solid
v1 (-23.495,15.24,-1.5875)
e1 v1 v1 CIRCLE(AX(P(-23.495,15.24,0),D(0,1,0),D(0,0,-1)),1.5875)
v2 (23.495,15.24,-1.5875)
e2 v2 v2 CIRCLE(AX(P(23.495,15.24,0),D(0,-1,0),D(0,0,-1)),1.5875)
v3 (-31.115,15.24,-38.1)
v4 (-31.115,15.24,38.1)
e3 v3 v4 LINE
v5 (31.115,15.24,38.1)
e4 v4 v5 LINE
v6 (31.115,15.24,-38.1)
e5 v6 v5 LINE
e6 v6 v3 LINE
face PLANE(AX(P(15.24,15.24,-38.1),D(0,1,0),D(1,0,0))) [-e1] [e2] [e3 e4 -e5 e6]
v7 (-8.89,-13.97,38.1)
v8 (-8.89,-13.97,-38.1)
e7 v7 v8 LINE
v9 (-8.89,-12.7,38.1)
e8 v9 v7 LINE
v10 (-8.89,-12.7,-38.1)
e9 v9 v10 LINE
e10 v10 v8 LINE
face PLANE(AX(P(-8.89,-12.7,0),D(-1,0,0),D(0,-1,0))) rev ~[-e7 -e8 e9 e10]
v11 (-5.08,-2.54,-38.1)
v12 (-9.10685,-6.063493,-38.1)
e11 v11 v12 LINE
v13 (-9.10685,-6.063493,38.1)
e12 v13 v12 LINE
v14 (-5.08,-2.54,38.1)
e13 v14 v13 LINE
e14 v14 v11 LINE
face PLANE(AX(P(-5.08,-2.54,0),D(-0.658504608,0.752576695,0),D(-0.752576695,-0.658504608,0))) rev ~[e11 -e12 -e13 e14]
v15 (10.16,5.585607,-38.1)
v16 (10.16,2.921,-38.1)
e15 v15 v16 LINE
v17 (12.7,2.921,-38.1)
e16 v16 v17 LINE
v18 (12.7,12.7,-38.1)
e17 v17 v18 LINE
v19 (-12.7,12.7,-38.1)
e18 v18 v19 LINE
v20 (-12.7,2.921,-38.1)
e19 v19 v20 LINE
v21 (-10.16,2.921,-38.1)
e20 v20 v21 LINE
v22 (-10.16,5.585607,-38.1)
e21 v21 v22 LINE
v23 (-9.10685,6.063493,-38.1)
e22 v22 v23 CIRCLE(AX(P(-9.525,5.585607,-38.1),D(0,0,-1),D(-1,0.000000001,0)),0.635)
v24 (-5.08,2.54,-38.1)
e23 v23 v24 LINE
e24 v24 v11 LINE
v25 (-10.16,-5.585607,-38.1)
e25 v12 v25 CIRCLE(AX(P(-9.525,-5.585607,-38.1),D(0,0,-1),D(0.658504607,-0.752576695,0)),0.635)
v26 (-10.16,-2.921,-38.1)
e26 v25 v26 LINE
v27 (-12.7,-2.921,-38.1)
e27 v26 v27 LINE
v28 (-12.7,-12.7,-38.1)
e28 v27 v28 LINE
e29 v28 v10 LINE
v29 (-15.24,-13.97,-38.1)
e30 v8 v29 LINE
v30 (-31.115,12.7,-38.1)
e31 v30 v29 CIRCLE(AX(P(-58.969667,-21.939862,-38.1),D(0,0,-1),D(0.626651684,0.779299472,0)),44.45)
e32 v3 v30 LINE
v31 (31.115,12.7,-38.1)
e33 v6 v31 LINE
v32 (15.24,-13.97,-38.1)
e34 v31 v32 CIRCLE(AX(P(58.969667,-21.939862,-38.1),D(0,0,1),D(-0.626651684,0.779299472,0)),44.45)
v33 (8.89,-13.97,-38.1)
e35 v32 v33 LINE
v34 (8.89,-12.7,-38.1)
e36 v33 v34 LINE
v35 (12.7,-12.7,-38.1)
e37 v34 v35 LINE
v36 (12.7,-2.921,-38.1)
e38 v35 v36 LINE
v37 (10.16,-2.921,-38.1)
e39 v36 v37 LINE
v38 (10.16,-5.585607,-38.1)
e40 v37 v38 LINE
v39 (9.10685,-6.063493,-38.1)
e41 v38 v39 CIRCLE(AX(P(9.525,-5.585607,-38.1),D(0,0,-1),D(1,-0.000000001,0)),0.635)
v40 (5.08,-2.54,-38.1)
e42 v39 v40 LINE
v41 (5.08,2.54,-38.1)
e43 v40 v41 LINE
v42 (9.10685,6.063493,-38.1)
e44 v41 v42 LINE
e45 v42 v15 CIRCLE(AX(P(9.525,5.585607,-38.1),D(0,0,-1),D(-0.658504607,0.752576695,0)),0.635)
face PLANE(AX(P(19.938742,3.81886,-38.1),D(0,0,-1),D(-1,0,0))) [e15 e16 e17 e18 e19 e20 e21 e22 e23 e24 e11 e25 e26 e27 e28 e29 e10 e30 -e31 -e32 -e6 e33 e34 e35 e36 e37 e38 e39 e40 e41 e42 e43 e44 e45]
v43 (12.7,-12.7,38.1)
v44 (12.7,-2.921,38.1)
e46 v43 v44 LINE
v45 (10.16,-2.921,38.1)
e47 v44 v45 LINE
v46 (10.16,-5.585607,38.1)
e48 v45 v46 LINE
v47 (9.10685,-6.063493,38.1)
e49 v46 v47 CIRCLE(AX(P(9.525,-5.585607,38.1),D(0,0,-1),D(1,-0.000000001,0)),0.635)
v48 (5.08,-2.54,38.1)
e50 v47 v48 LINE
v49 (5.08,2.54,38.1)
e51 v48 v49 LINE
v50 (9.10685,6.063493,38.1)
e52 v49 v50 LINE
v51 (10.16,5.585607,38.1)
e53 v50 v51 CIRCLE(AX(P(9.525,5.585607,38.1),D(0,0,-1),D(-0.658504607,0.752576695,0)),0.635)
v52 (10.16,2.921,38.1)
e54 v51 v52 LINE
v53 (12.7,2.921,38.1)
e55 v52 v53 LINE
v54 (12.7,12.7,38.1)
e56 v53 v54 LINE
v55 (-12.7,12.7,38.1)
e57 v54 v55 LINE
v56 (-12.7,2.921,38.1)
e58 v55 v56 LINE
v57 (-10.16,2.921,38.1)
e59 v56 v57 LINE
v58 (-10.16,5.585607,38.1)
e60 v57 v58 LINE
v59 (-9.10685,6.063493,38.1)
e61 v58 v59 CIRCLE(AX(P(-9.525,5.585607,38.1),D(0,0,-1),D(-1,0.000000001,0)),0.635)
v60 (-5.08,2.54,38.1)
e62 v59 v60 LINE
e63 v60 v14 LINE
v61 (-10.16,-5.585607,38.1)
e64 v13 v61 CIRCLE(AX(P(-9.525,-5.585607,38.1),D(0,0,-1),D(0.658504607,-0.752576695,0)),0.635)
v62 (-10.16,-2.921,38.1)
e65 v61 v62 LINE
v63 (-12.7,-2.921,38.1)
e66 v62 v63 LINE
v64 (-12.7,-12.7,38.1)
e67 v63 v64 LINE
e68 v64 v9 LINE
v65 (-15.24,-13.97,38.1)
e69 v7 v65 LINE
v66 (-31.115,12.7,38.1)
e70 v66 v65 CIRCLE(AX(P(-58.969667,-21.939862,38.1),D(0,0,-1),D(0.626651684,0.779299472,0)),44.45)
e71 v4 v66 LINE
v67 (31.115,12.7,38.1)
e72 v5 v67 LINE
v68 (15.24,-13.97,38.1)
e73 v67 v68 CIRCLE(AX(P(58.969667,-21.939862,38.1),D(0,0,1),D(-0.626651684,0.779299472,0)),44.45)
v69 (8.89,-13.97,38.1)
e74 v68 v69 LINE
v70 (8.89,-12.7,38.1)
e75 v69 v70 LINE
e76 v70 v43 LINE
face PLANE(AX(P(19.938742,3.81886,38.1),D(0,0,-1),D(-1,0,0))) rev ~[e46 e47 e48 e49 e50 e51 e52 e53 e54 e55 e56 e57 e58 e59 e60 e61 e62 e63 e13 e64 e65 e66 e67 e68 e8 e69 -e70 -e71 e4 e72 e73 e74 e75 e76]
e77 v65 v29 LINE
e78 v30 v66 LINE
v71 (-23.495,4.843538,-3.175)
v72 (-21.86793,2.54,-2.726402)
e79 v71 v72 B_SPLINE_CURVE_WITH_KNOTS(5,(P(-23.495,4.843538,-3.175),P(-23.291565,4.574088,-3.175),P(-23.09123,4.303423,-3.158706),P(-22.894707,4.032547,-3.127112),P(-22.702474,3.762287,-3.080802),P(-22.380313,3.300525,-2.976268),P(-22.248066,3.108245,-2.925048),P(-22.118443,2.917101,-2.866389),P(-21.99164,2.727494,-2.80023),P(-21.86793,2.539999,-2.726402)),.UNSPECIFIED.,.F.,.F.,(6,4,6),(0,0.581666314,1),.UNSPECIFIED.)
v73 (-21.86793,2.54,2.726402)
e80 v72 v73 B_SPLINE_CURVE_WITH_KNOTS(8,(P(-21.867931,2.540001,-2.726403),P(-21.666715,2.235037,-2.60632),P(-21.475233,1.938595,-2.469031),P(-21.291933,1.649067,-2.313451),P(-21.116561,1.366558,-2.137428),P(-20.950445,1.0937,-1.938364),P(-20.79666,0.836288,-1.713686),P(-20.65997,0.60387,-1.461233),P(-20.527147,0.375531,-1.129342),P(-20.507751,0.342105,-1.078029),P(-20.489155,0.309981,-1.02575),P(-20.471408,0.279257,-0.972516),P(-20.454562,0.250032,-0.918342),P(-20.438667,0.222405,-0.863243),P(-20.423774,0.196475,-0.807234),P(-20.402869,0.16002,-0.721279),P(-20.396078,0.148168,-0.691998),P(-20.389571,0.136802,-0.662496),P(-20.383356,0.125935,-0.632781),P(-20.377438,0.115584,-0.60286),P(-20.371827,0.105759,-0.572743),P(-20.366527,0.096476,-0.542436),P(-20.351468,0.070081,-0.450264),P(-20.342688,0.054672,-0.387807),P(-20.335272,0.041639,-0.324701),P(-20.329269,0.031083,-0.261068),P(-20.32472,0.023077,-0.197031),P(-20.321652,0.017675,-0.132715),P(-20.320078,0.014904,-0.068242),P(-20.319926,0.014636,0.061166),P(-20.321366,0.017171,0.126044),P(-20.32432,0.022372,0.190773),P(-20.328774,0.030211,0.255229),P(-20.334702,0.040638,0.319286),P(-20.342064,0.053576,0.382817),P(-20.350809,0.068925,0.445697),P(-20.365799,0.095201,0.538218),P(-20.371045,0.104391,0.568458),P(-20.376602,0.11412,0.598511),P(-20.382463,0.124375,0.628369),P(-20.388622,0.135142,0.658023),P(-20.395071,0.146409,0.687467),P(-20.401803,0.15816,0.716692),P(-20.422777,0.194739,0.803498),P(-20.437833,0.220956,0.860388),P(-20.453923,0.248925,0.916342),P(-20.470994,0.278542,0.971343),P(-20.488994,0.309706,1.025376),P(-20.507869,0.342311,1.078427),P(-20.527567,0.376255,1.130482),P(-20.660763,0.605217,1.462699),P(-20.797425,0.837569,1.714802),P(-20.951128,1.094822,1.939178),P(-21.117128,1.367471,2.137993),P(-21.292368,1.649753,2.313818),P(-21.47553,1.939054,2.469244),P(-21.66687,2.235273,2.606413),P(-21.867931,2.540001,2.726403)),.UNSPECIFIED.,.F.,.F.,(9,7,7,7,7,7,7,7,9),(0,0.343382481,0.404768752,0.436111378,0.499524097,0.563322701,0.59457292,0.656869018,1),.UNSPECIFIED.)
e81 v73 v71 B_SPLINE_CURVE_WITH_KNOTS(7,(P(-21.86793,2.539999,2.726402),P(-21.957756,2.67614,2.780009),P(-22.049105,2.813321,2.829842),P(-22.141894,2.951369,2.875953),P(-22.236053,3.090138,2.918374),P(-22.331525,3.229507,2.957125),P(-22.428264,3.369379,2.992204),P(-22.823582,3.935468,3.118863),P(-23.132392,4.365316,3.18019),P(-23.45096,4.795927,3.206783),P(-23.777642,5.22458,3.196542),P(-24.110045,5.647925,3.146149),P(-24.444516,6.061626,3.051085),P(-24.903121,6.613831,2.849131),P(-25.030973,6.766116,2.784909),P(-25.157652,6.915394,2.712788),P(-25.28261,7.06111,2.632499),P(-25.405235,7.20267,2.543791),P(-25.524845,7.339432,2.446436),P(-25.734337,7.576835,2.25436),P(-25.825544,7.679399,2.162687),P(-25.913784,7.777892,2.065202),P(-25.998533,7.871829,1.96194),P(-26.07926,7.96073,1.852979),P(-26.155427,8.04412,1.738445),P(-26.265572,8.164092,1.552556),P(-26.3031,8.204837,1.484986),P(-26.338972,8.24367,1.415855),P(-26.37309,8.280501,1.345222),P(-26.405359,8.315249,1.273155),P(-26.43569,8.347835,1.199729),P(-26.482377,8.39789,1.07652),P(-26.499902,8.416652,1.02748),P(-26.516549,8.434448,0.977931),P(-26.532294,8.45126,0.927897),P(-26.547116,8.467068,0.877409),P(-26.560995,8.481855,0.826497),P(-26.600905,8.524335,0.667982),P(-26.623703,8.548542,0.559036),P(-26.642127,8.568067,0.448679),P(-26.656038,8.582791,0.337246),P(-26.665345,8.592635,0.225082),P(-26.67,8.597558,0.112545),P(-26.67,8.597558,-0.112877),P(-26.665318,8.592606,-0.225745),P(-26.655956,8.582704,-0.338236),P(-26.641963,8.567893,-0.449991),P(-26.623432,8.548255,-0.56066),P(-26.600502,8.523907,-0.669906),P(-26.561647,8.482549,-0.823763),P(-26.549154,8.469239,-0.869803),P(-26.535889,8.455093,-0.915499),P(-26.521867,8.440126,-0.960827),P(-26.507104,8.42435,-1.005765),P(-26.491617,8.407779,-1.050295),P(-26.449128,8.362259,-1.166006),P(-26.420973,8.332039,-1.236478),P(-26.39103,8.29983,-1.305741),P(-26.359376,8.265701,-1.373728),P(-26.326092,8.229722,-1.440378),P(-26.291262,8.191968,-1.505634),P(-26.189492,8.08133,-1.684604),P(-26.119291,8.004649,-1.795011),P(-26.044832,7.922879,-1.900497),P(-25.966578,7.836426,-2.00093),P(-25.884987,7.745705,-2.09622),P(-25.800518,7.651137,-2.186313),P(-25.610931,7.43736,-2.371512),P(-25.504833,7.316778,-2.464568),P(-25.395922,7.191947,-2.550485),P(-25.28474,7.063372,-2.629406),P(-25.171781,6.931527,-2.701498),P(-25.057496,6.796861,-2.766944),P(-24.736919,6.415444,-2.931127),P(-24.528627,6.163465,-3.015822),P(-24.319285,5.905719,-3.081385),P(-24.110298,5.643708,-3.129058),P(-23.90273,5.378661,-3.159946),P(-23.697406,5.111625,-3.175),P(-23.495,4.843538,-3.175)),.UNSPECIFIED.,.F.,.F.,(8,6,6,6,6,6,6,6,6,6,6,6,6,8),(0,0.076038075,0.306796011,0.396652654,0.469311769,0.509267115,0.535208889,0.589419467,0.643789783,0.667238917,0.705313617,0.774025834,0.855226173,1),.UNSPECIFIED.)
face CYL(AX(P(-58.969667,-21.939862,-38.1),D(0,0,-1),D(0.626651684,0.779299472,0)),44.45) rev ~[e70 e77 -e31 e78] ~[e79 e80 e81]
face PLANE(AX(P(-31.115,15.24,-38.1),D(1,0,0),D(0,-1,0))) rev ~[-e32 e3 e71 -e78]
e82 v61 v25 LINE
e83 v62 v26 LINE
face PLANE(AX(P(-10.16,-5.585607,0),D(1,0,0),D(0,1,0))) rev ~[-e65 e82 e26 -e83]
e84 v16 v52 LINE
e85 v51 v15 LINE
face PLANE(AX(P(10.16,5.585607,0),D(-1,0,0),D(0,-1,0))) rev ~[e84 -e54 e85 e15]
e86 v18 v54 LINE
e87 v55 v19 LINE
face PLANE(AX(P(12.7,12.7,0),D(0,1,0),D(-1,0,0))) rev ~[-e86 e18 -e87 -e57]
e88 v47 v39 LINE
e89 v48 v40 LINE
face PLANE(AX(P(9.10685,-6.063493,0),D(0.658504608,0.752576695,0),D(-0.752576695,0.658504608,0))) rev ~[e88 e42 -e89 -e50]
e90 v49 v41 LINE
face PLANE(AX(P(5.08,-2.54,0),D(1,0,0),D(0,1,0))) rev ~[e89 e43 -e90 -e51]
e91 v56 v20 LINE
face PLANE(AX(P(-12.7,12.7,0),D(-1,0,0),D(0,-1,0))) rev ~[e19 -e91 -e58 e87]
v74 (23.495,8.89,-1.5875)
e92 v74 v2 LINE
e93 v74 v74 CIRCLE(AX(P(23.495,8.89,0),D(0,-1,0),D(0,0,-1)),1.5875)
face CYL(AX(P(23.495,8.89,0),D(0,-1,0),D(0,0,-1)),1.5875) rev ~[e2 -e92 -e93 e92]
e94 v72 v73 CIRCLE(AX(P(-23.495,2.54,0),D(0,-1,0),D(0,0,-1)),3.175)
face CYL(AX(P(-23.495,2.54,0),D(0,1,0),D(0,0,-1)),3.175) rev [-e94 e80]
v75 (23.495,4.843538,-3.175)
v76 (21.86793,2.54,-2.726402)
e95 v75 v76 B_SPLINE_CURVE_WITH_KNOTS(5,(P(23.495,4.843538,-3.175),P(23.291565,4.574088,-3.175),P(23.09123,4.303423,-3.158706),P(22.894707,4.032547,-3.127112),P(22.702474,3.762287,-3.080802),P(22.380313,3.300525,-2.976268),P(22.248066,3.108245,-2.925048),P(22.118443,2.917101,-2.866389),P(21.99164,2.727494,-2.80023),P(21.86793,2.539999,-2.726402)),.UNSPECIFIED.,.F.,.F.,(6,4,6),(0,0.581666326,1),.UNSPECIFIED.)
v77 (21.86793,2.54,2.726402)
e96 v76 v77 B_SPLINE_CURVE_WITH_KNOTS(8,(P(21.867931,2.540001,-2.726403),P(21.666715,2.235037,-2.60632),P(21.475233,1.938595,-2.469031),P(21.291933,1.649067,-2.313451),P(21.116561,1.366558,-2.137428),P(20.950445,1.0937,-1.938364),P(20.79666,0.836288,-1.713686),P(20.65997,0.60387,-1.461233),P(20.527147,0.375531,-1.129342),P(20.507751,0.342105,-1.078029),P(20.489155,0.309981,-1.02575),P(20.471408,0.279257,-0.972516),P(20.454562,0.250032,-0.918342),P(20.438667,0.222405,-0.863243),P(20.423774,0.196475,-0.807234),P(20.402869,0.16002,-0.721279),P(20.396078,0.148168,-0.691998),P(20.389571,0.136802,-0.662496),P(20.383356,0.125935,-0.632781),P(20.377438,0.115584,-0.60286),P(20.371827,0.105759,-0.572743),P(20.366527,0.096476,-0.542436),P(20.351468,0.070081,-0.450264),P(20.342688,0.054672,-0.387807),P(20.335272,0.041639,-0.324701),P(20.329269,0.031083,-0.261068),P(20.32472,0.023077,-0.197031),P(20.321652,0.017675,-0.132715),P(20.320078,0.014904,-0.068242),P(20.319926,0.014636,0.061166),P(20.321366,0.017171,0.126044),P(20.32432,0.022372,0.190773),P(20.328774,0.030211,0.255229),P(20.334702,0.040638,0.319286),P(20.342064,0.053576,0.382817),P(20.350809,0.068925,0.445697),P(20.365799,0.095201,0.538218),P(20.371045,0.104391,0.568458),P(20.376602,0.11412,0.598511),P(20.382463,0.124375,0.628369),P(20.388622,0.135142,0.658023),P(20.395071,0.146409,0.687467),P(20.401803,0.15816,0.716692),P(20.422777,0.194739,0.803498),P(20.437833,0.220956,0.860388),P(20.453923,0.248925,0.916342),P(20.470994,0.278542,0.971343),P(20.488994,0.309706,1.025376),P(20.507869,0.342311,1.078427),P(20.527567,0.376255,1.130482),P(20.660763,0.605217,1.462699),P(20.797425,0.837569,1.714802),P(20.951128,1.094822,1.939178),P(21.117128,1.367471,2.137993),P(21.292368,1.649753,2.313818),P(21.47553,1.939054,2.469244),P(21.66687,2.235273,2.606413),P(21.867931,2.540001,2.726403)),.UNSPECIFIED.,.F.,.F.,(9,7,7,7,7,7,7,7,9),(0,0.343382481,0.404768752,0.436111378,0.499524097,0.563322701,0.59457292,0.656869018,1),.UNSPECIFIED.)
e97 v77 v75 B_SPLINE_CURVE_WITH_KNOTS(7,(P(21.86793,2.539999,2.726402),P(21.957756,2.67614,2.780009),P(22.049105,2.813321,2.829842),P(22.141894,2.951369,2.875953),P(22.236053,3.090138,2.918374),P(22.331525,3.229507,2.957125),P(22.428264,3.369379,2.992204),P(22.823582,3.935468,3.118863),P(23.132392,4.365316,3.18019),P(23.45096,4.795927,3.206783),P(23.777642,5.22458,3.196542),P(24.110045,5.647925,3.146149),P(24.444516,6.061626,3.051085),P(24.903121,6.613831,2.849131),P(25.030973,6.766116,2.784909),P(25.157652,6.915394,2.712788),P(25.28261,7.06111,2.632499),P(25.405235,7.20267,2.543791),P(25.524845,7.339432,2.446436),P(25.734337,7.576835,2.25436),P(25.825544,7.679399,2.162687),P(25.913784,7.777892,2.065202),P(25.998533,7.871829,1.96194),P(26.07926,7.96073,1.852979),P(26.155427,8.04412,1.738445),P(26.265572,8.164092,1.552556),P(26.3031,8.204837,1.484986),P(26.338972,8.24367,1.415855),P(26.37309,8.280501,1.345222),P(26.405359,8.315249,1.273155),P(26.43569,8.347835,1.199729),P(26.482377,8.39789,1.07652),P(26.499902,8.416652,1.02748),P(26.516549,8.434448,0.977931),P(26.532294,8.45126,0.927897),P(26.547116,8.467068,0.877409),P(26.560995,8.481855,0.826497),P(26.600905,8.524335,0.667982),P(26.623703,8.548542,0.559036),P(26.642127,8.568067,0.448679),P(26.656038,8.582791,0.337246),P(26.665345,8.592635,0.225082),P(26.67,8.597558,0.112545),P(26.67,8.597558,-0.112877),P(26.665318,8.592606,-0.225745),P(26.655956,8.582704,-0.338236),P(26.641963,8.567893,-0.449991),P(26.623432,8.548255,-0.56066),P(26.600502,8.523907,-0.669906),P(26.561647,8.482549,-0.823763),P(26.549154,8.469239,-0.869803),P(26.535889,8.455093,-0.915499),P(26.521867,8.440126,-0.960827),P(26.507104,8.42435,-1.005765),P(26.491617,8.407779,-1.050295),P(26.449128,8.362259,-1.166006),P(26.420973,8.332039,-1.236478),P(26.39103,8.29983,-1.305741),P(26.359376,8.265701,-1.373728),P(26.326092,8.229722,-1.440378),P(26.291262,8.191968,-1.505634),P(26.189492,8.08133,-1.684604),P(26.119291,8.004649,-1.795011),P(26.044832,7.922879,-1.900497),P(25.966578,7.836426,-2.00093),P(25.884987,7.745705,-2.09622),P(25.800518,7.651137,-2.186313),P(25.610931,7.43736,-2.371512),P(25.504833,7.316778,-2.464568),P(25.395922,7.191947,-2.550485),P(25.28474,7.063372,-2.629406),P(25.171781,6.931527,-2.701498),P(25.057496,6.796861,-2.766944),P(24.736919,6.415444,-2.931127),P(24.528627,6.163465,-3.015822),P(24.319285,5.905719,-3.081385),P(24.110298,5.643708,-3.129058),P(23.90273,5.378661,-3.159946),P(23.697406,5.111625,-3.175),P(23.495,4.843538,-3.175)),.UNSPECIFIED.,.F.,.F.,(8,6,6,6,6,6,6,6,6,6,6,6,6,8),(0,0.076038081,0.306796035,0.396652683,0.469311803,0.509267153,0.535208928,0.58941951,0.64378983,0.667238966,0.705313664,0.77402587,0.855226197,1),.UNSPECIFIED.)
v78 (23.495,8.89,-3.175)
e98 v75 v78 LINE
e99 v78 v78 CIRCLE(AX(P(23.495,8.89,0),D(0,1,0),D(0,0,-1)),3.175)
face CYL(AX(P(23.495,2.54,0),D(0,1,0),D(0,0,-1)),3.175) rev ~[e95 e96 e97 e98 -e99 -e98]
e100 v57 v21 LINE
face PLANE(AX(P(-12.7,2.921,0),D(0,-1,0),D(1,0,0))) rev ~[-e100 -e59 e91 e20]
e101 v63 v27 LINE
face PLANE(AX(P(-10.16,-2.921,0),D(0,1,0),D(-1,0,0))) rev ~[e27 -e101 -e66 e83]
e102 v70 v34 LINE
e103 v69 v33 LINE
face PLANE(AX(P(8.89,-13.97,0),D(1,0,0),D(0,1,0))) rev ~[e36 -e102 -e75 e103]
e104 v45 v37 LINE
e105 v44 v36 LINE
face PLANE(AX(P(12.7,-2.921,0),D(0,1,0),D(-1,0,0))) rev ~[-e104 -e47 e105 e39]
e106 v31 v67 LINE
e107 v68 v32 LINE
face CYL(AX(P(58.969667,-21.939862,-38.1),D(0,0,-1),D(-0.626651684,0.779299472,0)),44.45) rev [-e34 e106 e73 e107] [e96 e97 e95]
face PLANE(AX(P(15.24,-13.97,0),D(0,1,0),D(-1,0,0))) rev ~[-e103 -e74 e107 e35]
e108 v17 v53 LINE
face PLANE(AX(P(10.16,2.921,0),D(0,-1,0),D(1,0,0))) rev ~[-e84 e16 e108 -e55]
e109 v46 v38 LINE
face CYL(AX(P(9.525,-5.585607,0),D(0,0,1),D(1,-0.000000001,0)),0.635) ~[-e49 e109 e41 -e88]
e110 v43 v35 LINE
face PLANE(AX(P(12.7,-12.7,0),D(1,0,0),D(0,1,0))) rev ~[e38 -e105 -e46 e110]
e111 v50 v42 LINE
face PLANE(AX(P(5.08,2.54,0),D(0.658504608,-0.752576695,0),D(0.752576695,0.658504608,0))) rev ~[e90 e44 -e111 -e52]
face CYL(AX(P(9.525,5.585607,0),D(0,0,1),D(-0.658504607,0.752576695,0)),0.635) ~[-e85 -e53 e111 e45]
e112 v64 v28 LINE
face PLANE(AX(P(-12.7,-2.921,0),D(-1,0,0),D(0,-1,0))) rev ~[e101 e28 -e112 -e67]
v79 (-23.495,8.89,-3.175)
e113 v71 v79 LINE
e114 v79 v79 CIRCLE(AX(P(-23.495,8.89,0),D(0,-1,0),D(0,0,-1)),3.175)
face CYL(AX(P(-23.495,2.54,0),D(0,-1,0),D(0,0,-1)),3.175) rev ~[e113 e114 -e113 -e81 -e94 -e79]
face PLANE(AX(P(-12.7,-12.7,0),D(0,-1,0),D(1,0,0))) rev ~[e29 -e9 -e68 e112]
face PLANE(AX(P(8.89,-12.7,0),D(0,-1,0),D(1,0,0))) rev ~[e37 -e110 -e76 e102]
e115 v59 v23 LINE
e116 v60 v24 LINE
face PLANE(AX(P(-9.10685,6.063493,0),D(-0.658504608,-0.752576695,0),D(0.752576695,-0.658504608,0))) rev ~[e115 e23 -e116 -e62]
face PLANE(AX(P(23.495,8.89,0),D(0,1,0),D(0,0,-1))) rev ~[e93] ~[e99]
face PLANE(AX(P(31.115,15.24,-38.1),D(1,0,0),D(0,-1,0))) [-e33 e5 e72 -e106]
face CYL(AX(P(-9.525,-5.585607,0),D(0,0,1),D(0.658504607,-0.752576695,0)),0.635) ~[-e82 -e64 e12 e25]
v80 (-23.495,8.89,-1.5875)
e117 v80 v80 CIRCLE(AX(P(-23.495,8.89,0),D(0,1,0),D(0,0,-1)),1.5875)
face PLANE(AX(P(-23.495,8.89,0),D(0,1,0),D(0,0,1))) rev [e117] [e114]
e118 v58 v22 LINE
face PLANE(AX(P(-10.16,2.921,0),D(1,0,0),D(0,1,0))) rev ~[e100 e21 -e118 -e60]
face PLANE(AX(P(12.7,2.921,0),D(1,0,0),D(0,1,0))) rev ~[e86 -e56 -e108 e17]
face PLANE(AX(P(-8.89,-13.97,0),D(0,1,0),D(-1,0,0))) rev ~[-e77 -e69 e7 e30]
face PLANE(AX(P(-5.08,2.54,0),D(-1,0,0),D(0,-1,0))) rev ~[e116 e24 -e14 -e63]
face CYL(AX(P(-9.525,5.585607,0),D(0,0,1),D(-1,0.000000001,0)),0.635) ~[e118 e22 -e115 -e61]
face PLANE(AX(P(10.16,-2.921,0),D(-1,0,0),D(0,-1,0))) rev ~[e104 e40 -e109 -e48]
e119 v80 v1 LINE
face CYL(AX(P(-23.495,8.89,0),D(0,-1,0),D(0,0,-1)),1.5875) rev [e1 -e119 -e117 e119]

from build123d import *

# Parameters (mm, degrees)
BOSS_EXTRUDE1_DEPTH            = 38.1
BOSS_EXTRUDE3_DEPTH            = 76.2
CUT_EXTRUDE1_REACH             = 53.888
SKETCH4_R                      = 3.175
CUT_EXTRUDE1_DIRECTION_2_DEPTH = 6.35
CUT_EXTRUDE2_REACH             = 56.243
SKETCH5_R                      = 1.5875


with BuildPart() as part:
    # Sketch1 → Boss-Extrude1 (new, symmetric)
    with BuildSketch(Plane.XY):
        with BuildLine():
            Line((12.7, 12.7), (-12.7, 12.7))
            Line((-12.7, 12.7), (-12.7, 2.921))
            Line((-12.7, 2.921), (-10.16, 2.921))
            Line((-10.16, 2.921), (-10.16, 5.585607176))
            ThreePointArc((-10.16, 5.585607176), (-9.787392339, 6.163859076), (-9.106849574, 6.063493377))
            Line((-9.106849574, 6.063493377), (-5.08, 2.54))
            Line((-5.08, 2.54), (-5.08, -2.54))
            Line((-5.08, -2.54), (-9.106849574, -6.063493377))
            ThreePointArc((-9.106849574, -6.063493377), (-9.787392339, -6.163859076), (-10.16, -5.585607176))
            Line((-10.16, -5.585607176), (-10.16, -2.921))
            Line((-10.16, -2.921), (-12.7, -2.921))
            Line((-12.7, -2.921), (-12.7, -12.7))
            Line((-12.7, -12.7), (-8.89, -12.7))
            Line((-8.89, -12.7), (-8.89, -13.97))
            Line((-8.89, -13.97), (-15.24, -13.97))
            Line((-15.24, -13.97), (-15.24, 15.24))
            Line((-15.24, 15.24), (15.24, 15.24))
            Line((15.24, 15.24), (15.24, -13.97))
            Line((15.24, -13.97), (8.89, -13.97))
            Line((8.89, -13.97), (8.89, -12.7))
            Line((8.89, -12.7), (12.7, -12.7))
            Line((12.7, -12.7), (12.7, -2.921))
            Line((12.7, -2.921), (10.16, -2.921))
            Line((10.16, -2.921), (10.16, -5.585607176))
            ThreePointArc((10.16, -5.585607176), (9.787392339, -6.163859076), (9.106849574, -6.063493377))
            Line((9.106849574, -6.063493377), (5.08, -2.54))
            Line((5.08, -2.54), (5.08, 2.54))
            Line((5.08, 2.54), (9.106849574, 6.063493377))
            ThreePointArc((9.106849574, 6.063493377), (9.787392339, 6.163859076), (10.16, 5.585607176))
            Line((10.16, 5.585607176), (10.16, 2.921))
            Line((10.16, 2.921), (12.7, 2.921))
            Line((12.7, 2.921), (12.7, 12.7))
        make_face()
    extrude(amount=BOSS_EXTRUDE1_DEPTH, both=True)

    # Sketch6 → Boss-Extrude3 (add)
    with BuildSketch(Plane(origin=(0, 0, -38.1), x_dir=(-1, 0, 0), z_dir=(0, 0, -1))):
        with BuildLine():
            Line((-15.24, 15.24), (-31.115, 15.24))
            Line((-31.115, 15.24), (-31.115, 12.7))
            ThreePointArc((-31.115, 12.7), (-20.774098647, 0.795596044), (-15.24, -13.97))
            Line((-15.24, -13.97), (-15.24, 15.24))
        make_face()
        with BuildLine():
            Line((15.24, 15.24), (31.115, 15.24))
            Line((31.115, 15.24), (31.115, 12.7))
            ThreePointArc((31.115, 12.7), (20.774098647, 0.795596044), (15.24, -13.97))
            Line((15.24, -13.97), (15.24, 15.24))
        make_face()
    extrude(amount=-BOSS_EXTRUDE3_DEPTH)

    # Sketch4 → Cut-Extrude1 (cut, up to next)
    with BuildSketch(Plane(origin=(0, 2.54, 0), x_dir=(1, 0, 0), z_dir=(0, 1, 0)), mode=Mode.PRIVATE) as cut_extrude1_sk1:
        with Locations(Location((23.495, 0, 0), (0, 0, 90))):
            Circle(SKETCH4_R)
    cut_extrude1_tool1 = extrude(cut_extrude1_sk1.sketch, amount=-CUT_EXTRUDE1_REACH, mode=Mode.PRIVATE) & part.part
    cut_extrude1 = cut_extrude1_tool1.solids().sort_by_distance((23.495, 2.54, 0))[0]
    add(cut_extrude1, mode=Mode.SUBTRACT)

    # Sketch4 → Cut-Extrude1 direction 2 (cut)
    with BuildSketch(Plane(origin=(0, 2.54, 0), x_dir=(1, 0, 0), z_dir=(0, 1, 0))):
        with Locations(Location((23.495, 0, 0), (0, 0, 90))):
            Circle(SKETCH4_R)
    cut_extrude1_direction_2 = extrude(amount=CUT_EXTRUDE1_DIRECTION_2_DEPTH, mode=Mode.SUBTRACT)

    # Sketch5 → Cut-Extrude2 (cut, up to next)
    with BuildSketch(Plane.XZ.offset(-8.89), mode=Mode.PRIVATE) as cut_extrude2_sk1:
        with Locations(Location((23.495, 0, 0), (0, 0, 270))):
            Circle(SKETCH5_R)
    cut_extrude2_tool1 = extrude(cut_extrude2_sk1.sketch, amount=-CUT_EXTRUDE2_REACH, mode=Mode.PRIVATE) & part.part
    cut_extrude2 = cut_extrude2_tool1.solids().sort_by_distance((23.495, 8.89, 0))[0]
    add(cut_extrude2, mode=Mode.SUBTRACT)

    # Mirror1: Cut-Extrude1, Cut-Extrude1 direction 2, Cut-Extrude2 across plane
    add(cut_extrude1.mirror(Plane(origin=(0, 0, 0), x_dir=(0, 0, 1), z_dir=(1, 0, 0))), mode=Mode.SUBTRACT)
    add(cut_extrude1_direction_2.mirror(Plane(origin=(0, 0, 0), x_dir=(0, 0, 1), z_dir=(1, 0, 0))), mode=Mode.SUBTRACT)
    add(cut_extrude2.mirror(Plane(origin=(0, 0, 0), x_dir=(0, 0, 1), z_dir=(1, 0, 0))), mode=Mode.SUBTRACT)


solid = part.part
